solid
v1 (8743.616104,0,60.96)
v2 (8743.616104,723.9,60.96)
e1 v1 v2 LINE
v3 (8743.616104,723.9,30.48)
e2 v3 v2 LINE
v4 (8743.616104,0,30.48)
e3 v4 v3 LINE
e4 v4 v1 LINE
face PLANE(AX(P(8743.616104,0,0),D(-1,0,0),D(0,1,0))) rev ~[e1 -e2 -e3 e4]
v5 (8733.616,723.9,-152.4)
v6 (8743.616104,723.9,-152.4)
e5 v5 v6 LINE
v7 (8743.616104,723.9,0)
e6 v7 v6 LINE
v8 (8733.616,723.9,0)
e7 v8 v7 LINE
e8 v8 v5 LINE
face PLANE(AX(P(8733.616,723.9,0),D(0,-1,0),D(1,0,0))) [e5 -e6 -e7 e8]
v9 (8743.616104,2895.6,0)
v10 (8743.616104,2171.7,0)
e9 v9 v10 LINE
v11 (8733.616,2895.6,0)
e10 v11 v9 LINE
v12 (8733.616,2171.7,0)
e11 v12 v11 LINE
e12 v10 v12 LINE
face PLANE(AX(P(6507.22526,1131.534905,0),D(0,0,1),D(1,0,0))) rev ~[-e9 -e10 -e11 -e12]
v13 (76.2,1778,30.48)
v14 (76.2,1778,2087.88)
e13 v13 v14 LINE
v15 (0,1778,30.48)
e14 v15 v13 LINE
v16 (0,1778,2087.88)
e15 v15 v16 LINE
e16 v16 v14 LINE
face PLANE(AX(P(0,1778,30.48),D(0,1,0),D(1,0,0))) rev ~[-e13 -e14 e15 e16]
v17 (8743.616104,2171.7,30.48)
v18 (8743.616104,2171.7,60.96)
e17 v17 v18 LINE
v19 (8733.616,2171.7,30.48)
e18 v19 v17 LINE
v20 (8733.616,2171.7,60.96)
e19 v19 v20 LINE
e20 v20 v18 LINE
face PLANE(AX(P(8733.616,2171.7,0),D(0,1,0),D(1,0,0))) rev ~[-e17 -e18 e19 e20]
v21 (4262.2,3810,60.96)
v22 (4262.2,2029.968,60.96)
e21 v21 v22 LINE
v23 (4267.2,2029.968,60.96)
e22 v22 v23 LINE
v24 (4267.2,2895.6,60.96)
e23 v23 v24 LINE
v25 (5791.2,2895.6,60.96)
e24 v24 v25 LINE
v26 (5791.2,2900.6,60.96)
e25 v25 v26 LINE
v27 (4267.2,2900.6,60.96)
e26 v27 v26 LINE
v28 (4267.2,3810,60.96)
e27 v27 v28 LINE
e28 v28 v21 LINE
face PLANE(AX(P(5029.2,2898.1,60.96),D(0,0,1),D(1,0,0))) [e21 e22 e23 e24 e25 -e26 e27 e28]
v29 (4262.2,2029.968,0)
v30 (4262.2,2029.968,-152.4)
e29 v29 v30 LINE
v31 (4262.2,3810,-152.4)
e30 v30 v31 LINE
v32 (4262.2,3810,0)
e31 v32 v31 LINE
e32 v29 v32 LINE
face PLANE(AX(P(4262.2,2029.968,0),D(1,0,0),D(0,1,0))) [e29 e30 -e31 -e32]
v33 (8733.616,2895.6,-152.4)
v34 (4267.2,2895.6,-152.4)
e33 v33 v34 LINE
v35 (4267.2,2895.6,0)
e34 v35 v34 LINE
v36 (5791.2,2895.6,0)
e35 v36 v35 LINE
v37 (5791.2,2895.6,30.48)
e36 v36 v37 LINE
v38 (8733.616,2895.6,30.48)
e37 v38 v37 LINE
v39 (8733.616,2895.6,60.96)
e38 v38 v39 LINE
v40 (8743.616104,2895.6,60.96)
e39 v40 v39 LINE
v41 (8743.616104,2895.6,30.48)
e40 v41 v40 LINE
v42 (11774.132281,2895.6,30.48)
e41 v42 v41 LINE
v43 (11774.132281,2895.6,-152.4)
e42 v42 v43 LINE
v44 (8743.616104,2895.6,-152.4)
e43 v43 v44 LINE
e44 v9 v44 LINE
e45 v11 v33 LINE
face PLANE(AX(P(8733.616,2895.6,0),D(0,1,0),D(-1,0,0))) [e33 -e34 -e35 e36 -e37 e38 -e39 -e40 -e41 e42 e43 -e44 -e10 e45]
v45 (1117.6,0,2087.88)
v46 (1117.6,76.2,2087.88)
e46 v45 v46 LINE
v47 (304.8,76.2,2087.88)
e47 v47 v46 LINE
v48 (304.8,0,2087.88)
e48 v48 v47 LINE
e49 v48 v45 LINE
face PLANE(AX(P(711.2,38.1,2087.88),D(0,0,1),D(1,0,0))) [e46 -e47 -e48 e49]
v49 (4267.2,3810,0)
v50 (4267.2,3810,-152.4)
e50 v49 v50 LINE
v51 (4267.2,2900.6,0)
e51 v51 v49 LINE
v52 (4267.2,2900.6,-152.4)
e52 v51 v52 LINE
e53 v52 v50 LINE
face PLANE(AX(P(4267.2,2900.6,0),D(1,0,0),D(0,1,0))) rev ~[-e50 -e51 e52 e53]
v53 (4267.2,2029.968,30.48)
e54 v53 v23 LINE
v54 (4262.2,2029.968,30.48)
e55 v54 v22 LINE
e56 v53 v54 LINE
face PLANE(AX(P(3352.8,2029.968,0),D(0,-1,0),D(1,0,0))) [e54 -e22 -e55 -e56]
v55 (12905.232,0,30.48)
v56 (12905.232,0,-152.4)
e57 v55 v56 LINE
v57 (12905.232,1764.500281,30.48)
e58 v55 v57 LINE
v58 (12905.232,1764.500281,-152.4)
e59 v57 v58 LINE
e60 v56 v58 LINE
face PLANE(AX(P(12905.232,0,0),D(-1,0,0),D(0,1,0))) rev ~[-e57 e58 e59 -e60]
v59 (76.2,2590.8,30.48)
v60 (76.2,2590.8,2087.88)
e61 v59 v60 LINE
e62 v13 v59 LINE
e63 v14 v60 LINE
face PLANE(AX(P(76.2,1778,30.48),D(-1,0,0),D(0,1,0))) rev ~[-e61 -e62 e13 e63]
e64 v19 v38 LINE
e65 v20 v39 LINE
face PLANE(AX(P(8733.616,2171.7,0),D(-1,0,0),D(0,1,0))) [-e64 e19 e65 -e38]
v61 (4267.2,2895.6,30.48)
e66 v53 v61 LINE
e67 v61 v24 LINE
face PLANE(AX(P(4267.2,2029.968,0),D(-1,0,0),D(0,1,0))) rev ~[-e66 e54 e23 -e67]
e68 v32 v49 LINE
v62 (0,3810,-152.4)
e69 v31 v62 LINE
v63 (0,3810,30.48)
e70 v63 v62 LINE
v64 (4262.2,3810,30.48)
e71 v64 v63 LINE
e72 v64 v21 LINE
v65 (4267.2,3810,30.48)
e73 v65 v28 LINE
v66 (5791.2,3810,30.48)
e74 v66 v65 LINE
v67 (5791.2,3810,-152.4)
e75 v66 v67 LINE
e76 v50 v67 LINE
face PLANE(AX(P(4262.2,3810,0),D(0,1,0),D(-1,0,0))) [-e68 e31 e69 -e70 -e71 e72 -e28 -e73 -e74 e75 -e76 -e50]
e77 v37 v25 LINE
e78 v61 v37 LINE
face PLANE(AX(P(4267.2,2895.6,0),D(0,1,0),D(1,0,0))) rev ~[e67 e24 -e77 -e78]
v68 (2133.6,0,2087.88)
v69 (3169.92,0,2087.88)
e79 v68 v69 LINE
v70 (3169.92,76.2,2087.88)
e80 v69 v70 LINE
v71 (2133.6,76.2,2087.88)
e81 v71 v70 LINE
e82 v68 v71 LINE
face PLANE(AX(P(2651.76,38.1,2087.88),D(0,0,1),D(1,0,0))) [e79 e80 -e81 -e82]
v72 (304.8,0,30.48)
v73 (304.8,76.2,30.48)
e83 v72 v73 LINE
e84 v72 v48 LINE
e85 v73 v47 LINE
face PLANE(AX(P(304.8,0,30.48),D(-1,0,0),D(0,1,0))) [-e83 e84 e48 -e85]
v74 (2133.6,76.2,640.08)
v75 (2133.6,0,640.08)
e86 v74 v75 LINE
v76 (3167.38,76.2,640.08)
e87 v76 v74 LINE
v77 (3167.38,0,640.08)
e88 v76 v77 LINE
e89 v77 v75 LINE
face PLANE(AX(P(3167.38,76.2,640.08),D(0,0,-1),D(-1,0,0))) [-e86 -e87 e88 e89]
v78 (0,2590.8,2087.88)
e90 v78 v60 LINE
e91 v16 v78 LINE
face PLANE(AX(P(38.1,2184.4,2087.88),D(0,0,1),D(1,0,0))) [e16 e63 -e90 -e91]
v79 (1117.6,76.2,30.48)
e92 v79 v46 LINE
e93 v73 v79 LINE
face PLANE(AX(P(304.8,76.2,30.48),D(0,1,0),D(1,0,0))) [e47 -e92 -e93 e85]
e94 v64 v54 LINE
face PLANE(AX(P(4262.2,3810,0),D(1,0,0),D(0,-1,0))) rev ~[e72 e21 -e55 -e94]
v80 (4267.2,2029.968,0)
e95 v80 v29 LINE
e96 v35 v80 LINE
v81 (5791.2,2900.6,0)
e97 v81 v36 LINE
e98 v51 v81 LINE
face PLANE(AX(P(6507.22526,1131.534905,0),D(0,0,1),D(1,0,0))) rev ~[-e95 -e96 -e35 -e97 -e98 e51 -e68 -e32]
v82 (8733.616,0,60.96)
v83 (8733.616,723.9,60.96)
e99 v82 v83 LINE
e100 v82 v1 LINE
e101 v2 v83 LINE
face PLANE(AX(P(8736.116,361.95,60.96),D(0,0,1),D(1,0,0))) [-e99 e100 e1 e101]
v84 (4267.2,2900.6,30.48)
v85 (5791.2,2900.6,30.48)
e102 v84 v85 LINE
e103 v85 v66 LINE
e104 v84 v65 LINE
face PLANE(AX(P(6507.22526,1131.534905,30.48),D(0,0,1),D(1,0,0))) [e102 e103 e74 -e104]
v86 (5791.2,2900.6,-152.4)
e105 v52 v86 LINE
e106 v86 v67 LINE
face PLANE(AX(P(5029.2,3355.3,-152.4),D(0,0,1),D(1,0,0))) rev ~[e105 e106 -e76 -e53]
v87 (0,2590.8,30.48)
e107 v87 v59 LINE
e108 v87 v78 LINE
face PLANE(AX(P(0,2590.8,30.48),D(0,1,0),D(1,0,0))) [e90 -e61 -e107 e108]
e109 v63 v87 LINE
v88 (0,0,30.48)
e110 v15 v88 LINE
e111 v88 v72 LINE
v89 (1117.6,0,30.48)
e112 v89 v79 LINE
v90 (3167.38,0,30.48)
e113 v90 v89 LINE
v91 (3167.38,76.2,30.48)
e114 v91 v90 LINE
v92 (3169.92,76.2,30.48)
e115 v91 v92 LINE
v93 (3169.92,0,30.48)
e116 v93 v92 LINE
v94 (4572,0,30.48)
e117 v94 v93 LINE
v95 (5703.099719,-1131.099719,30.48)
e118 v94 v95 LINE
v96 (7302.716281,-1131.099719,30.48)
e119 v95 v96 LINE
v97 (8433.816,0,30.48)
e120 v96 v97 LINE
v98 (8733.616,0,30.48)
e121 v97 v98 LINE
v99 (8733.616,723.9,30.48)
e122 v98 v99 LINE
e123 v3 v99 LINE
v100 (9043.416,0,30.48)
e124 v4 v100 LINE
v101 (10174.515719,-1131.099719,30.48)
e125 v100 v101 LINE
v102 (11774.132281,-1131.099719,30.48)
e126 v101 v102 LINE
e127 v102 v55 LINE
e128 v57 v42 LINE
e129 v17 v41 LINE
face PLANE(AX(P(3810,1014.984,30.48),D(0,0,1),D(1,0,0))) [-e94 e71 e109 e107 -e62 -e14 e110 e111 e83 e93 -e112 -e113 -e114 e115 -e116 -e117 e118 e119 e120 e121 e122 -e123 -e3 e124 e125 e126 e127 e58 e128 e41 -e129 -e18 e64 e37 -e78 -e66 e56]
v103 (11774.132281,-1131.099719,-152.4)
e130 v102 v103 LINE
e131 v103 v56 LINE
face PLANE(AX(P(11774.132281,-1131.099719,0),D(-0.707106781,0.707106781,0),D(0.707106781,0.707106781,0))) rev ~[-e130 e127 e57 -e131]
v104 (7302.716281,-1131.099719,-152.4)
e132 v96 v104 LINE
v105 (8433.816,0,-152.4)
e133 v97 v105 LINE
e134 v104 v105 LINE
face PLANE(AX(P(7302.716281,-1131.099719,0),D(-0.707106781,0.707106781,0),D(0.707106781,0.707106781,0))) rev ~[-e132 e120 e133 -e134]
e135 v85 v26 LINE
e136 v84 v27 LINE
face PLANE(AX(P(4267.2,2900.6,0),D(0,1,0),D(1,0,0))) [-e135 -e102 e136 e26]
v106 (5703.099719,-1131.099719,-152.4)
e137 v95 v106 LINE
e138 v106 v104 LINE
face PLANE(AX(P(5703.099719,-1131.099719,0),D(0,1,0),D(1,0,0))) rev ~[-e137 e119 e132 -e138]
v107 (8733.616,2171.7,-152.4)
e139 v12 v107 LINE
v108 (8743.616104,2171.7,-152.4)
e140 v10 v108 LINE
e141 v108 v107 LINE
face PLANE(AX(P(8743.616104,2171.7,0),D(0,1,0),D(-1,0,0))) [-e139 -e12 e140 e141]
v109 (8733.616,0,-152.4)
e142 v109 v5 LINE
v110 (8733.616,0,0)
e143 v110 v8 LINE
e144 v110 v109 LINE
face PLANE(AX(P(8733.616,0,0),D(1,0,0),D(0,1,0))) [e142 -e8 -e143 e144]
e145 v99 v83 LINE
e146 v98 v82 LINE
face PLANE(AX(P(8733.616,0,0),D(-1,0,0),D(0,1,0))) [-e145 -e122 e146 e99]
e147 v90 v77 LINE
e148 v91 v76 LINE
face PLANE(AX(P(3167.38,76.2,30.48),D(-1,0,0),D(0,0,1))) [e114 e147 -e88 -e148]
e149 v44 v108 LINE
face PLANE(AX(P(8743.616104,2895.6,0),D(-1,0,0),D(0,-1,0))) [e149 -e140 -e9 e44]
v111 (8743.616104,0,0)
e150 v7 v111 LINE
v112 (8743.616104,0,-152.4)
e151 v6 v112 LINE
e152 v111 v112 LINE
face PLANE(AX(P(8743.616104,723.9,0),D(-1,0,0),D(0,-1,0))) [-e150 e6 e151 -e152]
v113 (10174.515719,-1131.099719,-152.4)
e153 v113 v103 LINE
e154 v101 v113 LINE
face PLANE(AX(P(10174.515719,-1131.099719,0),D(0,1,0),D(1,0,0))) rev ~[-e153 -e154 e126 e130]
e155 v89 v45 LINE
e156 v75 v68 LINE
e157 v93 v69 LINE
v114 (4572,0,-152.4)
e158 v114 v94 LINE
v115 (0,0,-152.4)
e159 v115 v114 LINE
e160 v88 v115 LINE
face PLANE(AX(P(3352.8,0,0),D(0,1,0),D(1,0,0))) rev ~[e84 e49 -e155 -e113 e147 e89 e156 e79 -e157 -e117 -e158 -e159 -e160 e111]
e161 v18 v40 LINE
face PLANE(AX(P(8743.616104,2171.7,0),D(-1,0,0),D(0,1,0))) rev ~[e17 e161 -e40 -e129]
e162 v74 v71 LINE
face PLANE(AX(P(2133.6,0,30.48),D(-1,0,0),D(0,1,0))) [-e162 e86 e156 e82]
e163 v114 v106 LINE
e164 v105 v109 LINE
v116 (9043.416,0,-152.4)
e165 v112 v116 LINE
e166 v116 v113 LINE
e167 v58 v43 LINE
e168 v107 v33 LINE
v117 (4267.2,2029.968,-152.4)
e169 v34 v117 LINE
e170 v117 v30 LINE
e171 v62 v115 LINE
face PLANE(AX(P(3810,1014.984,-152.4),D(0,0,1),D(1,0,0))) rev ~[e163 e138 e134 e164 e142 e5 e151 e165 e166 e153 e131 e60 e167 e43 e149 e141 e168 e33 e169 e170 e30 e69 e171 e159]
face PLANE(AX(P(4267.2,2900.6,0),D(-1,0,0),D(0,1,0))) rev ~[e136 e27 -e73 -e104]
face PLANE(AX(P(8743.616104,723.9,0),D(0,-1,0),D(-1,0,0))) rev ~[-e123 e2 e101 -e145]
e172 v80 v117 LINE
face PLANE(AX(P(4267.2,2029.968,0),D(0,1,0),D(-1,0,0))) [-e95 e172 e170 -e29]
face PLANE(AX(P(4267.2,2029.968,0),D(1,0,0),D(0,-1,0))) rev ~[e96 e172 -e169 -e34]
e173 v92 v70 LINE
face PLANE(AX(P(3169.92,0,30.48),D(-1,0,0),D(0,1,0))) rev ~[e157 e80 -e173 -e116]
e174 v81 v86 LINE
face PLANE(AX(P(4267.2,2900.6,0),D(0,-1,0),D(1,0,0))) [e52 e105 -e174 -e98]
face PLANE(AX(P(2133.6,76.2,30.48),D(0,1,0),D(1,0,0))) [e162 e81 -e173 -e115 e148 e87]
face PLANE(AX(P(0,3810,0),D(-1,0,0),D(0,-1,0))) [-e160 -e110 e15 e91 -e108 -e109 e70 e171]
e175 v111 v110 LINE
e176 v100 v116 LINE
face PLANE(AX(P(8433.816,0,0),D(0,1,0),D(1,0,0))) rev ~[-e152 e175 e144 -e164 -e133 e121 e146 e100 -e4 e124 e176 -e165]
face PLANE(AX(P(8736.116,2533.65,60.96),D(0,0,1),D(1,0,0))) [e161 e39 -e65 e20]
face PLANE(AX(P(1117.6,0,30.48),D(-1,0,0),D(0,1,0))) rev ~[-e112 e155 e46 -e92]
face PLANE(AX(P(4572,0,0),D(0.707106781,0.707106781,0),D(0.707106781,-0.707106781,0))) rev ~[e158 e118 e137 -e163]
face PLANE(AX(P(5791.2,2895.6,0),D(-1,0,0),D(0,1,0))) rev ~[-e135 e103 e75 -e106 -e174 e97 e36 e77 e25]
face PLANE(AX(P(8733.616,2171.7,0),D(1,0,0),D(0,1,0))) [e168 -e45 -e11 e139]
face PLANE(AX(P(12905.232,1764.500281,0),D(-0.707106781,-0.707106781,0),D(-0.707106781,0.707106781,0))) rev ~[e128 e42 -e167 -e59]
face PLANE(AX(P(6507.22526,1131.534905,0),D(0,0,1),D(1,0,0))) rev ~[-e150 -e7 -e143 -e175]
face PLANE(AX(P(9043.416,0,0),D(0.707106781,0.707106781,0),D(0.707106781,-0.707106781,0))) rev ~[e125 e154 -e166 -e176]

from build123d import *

# Parameters (mm, degrees)
F0_W          = 1524
F0_H          = 5
F1_DEPTH      = 60.96
F0_W_2        = 5
F0_H_2        = 723.9
F0_W_3        = 5.000104126
F0_W_4        = 2286
F0_H_3        = 914.4
F0_W_5        = 1828.8
F0_H_4        = 487.68
F0_W_6        = 1310.64
F0_H_5        = 457.2
F0_W_7        = 990.6
F0_H_6        = 609.6
F0_W_8        = 914.4
F0_H_7        = 1524
F0_W_9        = 1584.96
F0_H_8        = 2157.984
F0_W_10       = 3352.8
F0_H_9        = 909.4
F0_H_10       = 280.416
F2_DEPTH      = 30.48
F4_W          = 76.2
F4_H          = 812.8
F4_W_2        = 812.8
F4_H_2        = 76.2
F4_W_3        = 1036.32
F5_DEPTH      = 2057.4
F6_W          = 1033.78
F6_H          = 609.6
F7_DEPTH      = 1207.3007187053
F8_DEPTH      = 152.4
F9_DEPTH      = 152.4
F9_DEPTH_BACK = 30.48


with BuildPart() as f1:
    # F0 (on Top) → F1 (new body)
    with BuildSketch(Plane.XY):
        with Locations((5029.2, 2898.1)):
            Rectangle(F0_W, F0_H)
        Polygon((4262.2, 3810), (4262.2, 2029.968), (4267.2, 2029.968), (4267.2, 2895.6), (4267.2, 2900.6), (4267.2, 3810), align=None)
    extrude(amount=F1_DEPTH)


with BuildPart() as f1b:
    # F0 (on Top) → F1, piece 2 (new body)
    with BuildSketch(Plane.XY):
        with Locations((8736.116, 2533.65)):
            Rectangle(F0_W_2, F0_H_2)
        with Locations((8741.116052063, 2533.65)):
            Rectangle(F0_W_3, F0_H_2)
    extrude(amount=F1_DEPTH)


with BuildPart() as f1c:
    # F0 (on Top) → F1, piece 3 (new body)
    with BuildSketch(Plane.XY):
        with Locations((8736.116, 361.95)):
            Rectangle(F0_W_2, F0_H_2)
        with Locations((8741.116052063, 361.95)):
            Rectangle(F0_W_3, F0_H_2)
    extrude(amount=F1_DEPTH)


with BuildPart() as f2:
    # F0 (on Top) → F2 (new body)
    with BuildSketch(Plane.XY):
        Polygon((4267.2, 2029.968), (4267.2, 0), (4572, 0), (5703.0997187053, -1131.0997187053), (7302.7162812947, -1131.0997187053), (8433.816, 0), (8733.616, 0), (8733.616, 723.9), (8698.4546220885, 723.9), (8698.4546220885, 2171.7), (8733.616, 2171.7), (8733.616, 2895.6), (7519.416, 2895.6), (5791.2, 2895.6), (4267.2, 2895.6), align=None)
        Polygon((5281.1117777896, 222.5019009471), (4530.6882699943, 90.1819895649), (4398.3683586121, 840.6054973602), (5148.7918664074, 972.9254087424), align=None, mode=Mode.SUBTRACT)
        with Locations((6496.5029158592, -289.0089195251)):
            Rectangle(F0_W_4, F0_H_3, mode=Mode.SUBTRACT)
        with BuildLine():
            ThreePointArc((5519.6326080322, 825.3382080503), (5249.6043507385, 1099.6246337891), (5519.6326080322, 1373.9110595278))
            Line((5519.6326080322, 1373.9110595278), (5519.6326080322, 2072.8167237282))
            Line((5519.6326080322, 2072.8167237282), (7958.0326080322, 2072.8167237282))
            Line((7958.0326080322, 2072.8167237282), (7958.0326080322, 396.4167237282))
            Line((7958.0326080322, 396.4167237282), (5519.6326080322, 396.4167237282))
            Line((5519.6326080322, 396.4167237282), (5519.6326080322, 825.3382080503))
        make_face(mode=Mode.SUBTRACT)
        Polygon((4384.2396736145, 1269.1645622253), (4516.5595849967, 2019.5880700206), (5266.983092792, 1887.2681586384), (5134.6631814098, 1136.8446508431), align=None, mode=Mode.SUBTRACT)
        with Locations((6661.3005584717, 2568.1438237762)):
            Rectangle(F0_W_5, F0_H_4, mode=Mode.SUBTRACT)
        Polygon((9552.432, 2895.6), (8743.616104126, 2895.6), (8743.616104126, 2171.7), (8778.7773779115, 2171.7), (8778.7773779115, 723.9), (8743.616104126, 723.9), (8743.616104126, 0), (9043.416, 0), (10174.5157187053, -1131.0997187053), (11774.1322812947, -1131.0997187053), (12905.232, 0), (12905.232, 1764.5002812947), (11774.1322812947, 2895.6), align=None)
        with Locations((11014.7964245605, -810.0562347412)):
            Rectangle(F0_W_6, F0_H_5, mode=Mode.SUBTRACT)
        with Locations((9298.3338287354, 2534.5547534943)):
            Rectangle(F0_W_7, F0_H_6, mode=Mode.SUBTRACT)
        Polygon((10127.4194717407, 2522.1054672089), (10127.4194717407, 2802.5214672089), (11712.3794717407, 2802.5214672089), (11712.3794717407, 2522.1054672089), (11712.3794717407, 364.1214672089), (10127.4194717407, 364.1214672089), align=None, mode=Mode.SUBTRACT)
        Polygon((0, 2009.85455513), (0, 0), (304.8, 0), (1118.616, 0), (3352.8, 0), (3352.8, 2029.968), (4262.2, 2029.968), (4262.2, 3810), (3352.8, 3810), (3352.8, 3200.4), (0, 3200.4), (0, 2823.67055513), align=None)
        with Locations((2210.8657863617, 1090.4223377705)):
            Rectangle(F0_W_8, F0_H_7, mode=Mode.SUBTRACT)
        with BuildLine():
            ThreePointArc((5519.6326080322, 1373.9110595278), (5716.3745411006, 1295.1096373817), (5798.2443507385, 1099.6246337891))
            ThreePointArc((5798.2443507385, 1099.6246337891), (5716.3745411006, 904.1396301965), (5519.6326080322, 825.3382080503))
            Line((5519.6326080322, 825.3382080503), (5519.6326080322, 396.4167237282))
            Line((5519.6326080322, 396.4167237282), (7958.0326080322, 396.4167237282))
            Line((7958.0326080322, 396.4167237282), (7958.0326080322, 2072.8167237282))
            Line((7958.0326080322, 2072.8167237282), (5519.6326080322, 2072.8167237282))
            Line((5519.6326080322, 2072.8167237282), (5519.6326080322, 1373.9110595278))
        make_face()
        with Locations((10919.8994717407, 1443.1134672089)):
            Rectangle(F0_W_9, F0_H_8)
        with Locations((6496.5029158592, -289.0089195251)):
            Rectangle(F0_W_4, F0_H_3)
        with Locations((1676.4, 3505.2)):
            Rectangle(F0_W_10, F0_H_6)
        with Locations((2210.8657863617, 1090.4223377705)):
            Rectangle(F0_W_8, F0_H_7)
        with Locations((5029.2, 3355.3)):
            Rectangle(F0_W, F0_H_9)
        with Locations((6661.3005584717, 2568.1438237762)):
            Rectangle(F0_W_5, F0_H_4)
        with Locations((9298.3338287354, 2534.5547534943)):
            Rectangle(F0_W_7, F0_H_6)
        with Locations((11014.7964245605, -810.0562347412)):
            Rectangle(F0_W_6, F0_H_5)
        Polygon((4398.3683586121, 840.6054973602), (4530.6882699943, 90.1819895649), (5281.1117777896, 222.5019009471), (5148.7918664074, 972.9254087424), align=None)
        Polygon((5266.983092792, 1887.2681586384), (4516.5595849967, 2019.5880700206), (4384.2396736145, 1269.1645622253), (5134.6631814098, 1136.8446508431), align=None)
        with Locations((10919.8994717407, 2662.3134672089)):
            Rectangle(F0_W_9, F0_H_10)
        with BuildLine():
            ThreePointArc((5519.6326080322, 825.3382080503), (5716.3745411006, 904.1396301965), (5798.2443507385, 1099.6246337891))
            ThreePointArc((5798.2443507385, 1099.6246337891), (5716.3745411006, 1295.1096373817), (5519.6326080322, 1373.9110595278))
            Line((5519.6326080322, 1373.9110595278), (5519.6326080322, 825.3382080503))
        make_face()
        Polygon((8738.616, 2171.7), (8733.616, 2171.7), (8698.4546220885, 2171.7), (8698.4546220885, 723.9), (8733.616, 723.9), (8738.616, 723.9), (8743.616104126, 723.9), (8778.7773779115, 723.9), (8778.7773779115, 2171.7), (8743.616104126, 2171.7), align=None)
        with BuildLine():
            Line((5519.6326080322, 825.3382080503), (5519.6326080322, 1373.9110595278))
            ThreePointArc((5519.6326080322, 1373.9110595278), (5249.6043507385, 1099.6246337891), (5519.6326080322, 825.3382080503))
        make_face()
        Polygon((4262.2, 3810), (4262.2, 2029.968), (4267.2, 2029.968), (4267.2, 2895.6), (4267.2, 2900.6), (4267.2, 3810), align=None)
        with Locations((5029.2, 2898.1)):
            Rectangle(F0_W, F0_H)
        with Locations((8741.116052063, 361.95)):
            Rectangle(F0_W_3, F0_H_2)
        with Locations((8741.116052063, 2533.65)):
            Rectangle(F0_W_3, F0_H_2)
        with Locations((8736.116, 361.95)):
            Rectangle(F0_W_2, F0_H_2)
        with Locations((8736.116, 2533.65)):
            Rectangle(F0_W_2, F0_H_2)
    extrude(amount=F2_DEPTH)


with BuildPart() as f1_1:
    add(f1.part)

    # F3: union F1b, F1c, F2
    add(f1b.part)
    add(f1c.part)
    add(f2.part)

    # F4 (on face) → F5 (join)
    with BuildSketch(Plane.XY.offset(30.48)):
        with Locations((38.1, 2184.4)):
            Rectangle(F4_W, F4_H)
        with Locations((711.2, 38.1)):
            Rectangle(F4_W_2, F4_H_2)
        with Locations((2651.76, 38.1)):
            Rectangle(F4_W_3, F4_H_2)
    extrude(amount=F5_DEPTH)

    # F6 (on face) → F7 (cut, through all)
    with BuildSketch(Plane(origin=(0, 76.2, 0), x_dir=(-1, 0, 0), z_dir=(0, 1, 0))):
        with Locations((-2650.49, 335.28)):
            Rectangle(F6_W, F6_H)
    extrude(amount=-F7_DEPTH, mode=Mode.SUBTRACT)

    # F0 (on Top) → F8 (join)
    with BuildSketch(Plane.XY):
        Polygon((0, 2009.85455513), (0, 0), (304.8, 0), (1118.616, 0), (3352.8, 0), (3352.8, 2029.968), (4262.2, 2029.968), (4262.2, 3810), (3352.8, 3810), (3352.8, 3200.4), (0, 3200.4), (0, 2823.67055513), align=None)
        with Locations((2210.8657863617, 1090.4223377705)):
            Rectangle(F0_W_8, F0_H_7, mode=Mode.SUBTRACT)
        with Locations((1676.4, 3505.2)):
            Rectangle(F0_W_10, F0_H_6)
        with Locations((2210.8657863617, 1090.4223377705)):
            Rectangle(F0_W_8, F0_H_7)
        Polygon((4267.2, 2029.968), (4267.2, 0), (4572, 0), (5703.0997187053, -1131.0997187053), (7302.7162812947, -1131.0997187053), (8433.816, 0), (8733.616, 0), (8733.616, 723.9), (8698.4546220885, 723.9), (8698.4546220885, 2171.7), (8733.616, 2171.7), (8733.616, 2895.6), (7519.416, 2895.6), (5791.2, 2895.6), (4267.2, 2895.6), align=None)
        Polygon((5281.1117777896, 222.5019009471), (4530.6882699943, 90.1819895649), (4398.3683586121, 840.6054973602), (5148.7918664074, 972.9254087424), align=None, mode=Mode.SUBTRACT)
        with Locations((6496.5029158592, -289.0089195251)):
            Rectangle(F0_W_4, F0_H_3, mode=Mode.SUBTRACT)
        with BuildLine():
            ThreePointArc((5519.6326080322, 825.3382080503), (5249.6043507385, 1099.6246337891), (5519.6326080322, 1373.9110595278))
            Line((5519.6326080322, 1373.9110595278), (5519.6326080322, 2072.8167237282))
            Line((5519.6326080322, 2072.8167237282), (7958.0326080322, 2072.8167237282))
            Line((7958.0326080322, 2072.8167237282), (7958.0326080322, 396.4167237282))
            Line((7958.0326080322, 396.4167237282), (5519.6326080322, 396.4167237282))
            Line((5519.6326080322, 396.4167237282), (5519.6326080322, 825.3382080503))
        make_face(mode=Mode.SUBTRACT)
        Polygon((4384.2396736145, 1269.1645622253), (4516.5595849967, 2019.5880700206), (5266.983092792, 1887.2681586384), (5134.6631814098, 1136.8446508431), align=None, mode=Mode.SUBTRACT)
        with Locations((6661.3005584717, 2568.1438237762)):
            Rectangle(F0_W_5, F0_H_4, mode=Mode.SUBTRACT)
        Polygon((4398.3683586121, 840.6054973602), (4530.6882699943, 90.1819895649), (5281.1117777896, 222.5019009471), (5148.7918664074, 972.9254087424), align=None)
        Polygon((5266.983092792, 1887.2681586384), (4516.5595849967, 2019.5880700206), (4384.2396736145, 1269.1645622253), (5134.6631814098, 1136.8446508431), align=None)
        with BuildLine():
            ThreePointArc((5519.6326080322, 1373.9110595278), (5716.3745411006, 1295.1096373817), (5798.2443507385, 1099.6246337891))
            ThreePointArc((5798.2443507385, 1099.6246337891), (5716.3745411006, 904.1396301965), (5519.6326080322, 825.3382080503))
            Line((5519.6326080322, 825.3382080503), (5519.6326080322, 396.4167237282))
            Line((5519.6326080322, 396.4167237282), (7958.0326080322, 396.4167237282))
            Line((7958.0326080322, 396.4167237282), (7958.0326080322, 2072.8167237282))
            Line((7958.0326080322, 2072.8167237282), (5519.6326080322, 2072.8167237282))
            Line((5519.6326080322, 2072.8167237282), (5519.6326080322, 1373.9110595278))
        make_face()
        with Locations((6496.5029158592, -289.0089195251)):
            Rectangle(F0_W_4, F0_H_3)
        with Locations((6661.3005584717, 2568.1438237762)):
            Rectangle(F0_W_5, F0_H_4)
        with Locations((5029.2, 3355.3)):
            Rectangle(F0_W, F0_H_9)
        with BuildLine():
            ThreePointArc((5519.6326080322, 825.3382080503), (5716.3745411006, 904.1396301965), (5798.2443507385, 1099.6246337891))
            ThreePointArc((5798.2443507385, 1099.6246337891), (5716.3745411006, 1295.1096373817), (5519.6326080322, 1373.9110595278))
            Line((5519.6326080322, 1373.9110595278), (5519.6326080322, 825.3382080503))
        make_face()
        with BuildLine():
            Line((5519.6326080322, 825.3382080503), (5519.6326080322, 1373.9110595278))
            ThreePointArc((5519.6326080322, 1373.9110595278), (5249.6043507385, 1099.6246337891), (5519.6326080322, 825.3382080503))
        make_face()
        Polygon((9552.432, 2895.6), (8743.616104126, 2895.6), (8743.616104126, 2171.7), (8778.7773779115, 2171.7), (8778.7773779115, 723.9), (8743.616104126, 723.9), (8743.616104126, 0), (9043.416, 0), (10174.5157187053, -1131.0997187053), (11774.1322812947, -1131.0997187053), (12905.232, 0), (12905.232, 1764.5002812947), (11774.1322812947, 2895.6), align=None)
        with Locations((11014.7964245605, -810.0562347412)):
            Rectangle(F0_W_6, F0_H_5, mode=Mode.SUBTRACT)
        with Locations((9298.3338287354, 2534.5547534943)):
            Rectangle(F0_W_7, F0_H_6, mode=Mode.SUBTRACT)
        Polygon((10127.4194717407, 2522.1054672089), (10127.4194717407, 2802.5214672089), (11712.3794717407, 2802.5214672089), (11712.3794717407, 2522.1054672089), (11712.3794717407, 364.1214672089), (10127.4194717407, 364.1214672089), align=None, mode=Mode.SUBTRACT)
        with Locations((10919.8994717407, 1443.1134672089)):
            Rectangle(F0_W_9, F0_H_8)
        with Locations((11014.7964245605, -810.0562347412)):
            Rectangle(F0_W_6, F0_H_5)
        with Locations((10919.8994717407, 2662.3134672089)):
            Rectangle(F0_W_9, F0_H_10)
        with Locations((9298.3338287354, 2534.5547534943)):
            Rectangle(F0_W_7, F0_H_6)
        Polygon((8738.616, 2171.7), (8733.616, 2171.7), (8698.4546220885, 2171.7), (8698.4546220885, 723.9), (8733.616, 723.9), (8738.616, 723.9), (8743.616104126, 723.9), (8778.7773779115, 723.9), (8778.7773779115, 2171.7), (8743.616104126, 2171.7), align=None)
    extrude(amount=-F8_DEPTH)

    # F0 (on Top) → F9 (join, two sides)
    with BuildSketch(Plane.XY) as f9_sk:
        Polygon((3352.8, 2029.968), (3352.8, 0), (4267.2, 0), (4267.2, 2029.968), (4262.2, 2029.968), align=None)
    extrude(amount=-F9_DEPTH)
    extrude(f9_sk.sketch, amount=F9_DEPTH_BACK)


solid = f1_1.part
